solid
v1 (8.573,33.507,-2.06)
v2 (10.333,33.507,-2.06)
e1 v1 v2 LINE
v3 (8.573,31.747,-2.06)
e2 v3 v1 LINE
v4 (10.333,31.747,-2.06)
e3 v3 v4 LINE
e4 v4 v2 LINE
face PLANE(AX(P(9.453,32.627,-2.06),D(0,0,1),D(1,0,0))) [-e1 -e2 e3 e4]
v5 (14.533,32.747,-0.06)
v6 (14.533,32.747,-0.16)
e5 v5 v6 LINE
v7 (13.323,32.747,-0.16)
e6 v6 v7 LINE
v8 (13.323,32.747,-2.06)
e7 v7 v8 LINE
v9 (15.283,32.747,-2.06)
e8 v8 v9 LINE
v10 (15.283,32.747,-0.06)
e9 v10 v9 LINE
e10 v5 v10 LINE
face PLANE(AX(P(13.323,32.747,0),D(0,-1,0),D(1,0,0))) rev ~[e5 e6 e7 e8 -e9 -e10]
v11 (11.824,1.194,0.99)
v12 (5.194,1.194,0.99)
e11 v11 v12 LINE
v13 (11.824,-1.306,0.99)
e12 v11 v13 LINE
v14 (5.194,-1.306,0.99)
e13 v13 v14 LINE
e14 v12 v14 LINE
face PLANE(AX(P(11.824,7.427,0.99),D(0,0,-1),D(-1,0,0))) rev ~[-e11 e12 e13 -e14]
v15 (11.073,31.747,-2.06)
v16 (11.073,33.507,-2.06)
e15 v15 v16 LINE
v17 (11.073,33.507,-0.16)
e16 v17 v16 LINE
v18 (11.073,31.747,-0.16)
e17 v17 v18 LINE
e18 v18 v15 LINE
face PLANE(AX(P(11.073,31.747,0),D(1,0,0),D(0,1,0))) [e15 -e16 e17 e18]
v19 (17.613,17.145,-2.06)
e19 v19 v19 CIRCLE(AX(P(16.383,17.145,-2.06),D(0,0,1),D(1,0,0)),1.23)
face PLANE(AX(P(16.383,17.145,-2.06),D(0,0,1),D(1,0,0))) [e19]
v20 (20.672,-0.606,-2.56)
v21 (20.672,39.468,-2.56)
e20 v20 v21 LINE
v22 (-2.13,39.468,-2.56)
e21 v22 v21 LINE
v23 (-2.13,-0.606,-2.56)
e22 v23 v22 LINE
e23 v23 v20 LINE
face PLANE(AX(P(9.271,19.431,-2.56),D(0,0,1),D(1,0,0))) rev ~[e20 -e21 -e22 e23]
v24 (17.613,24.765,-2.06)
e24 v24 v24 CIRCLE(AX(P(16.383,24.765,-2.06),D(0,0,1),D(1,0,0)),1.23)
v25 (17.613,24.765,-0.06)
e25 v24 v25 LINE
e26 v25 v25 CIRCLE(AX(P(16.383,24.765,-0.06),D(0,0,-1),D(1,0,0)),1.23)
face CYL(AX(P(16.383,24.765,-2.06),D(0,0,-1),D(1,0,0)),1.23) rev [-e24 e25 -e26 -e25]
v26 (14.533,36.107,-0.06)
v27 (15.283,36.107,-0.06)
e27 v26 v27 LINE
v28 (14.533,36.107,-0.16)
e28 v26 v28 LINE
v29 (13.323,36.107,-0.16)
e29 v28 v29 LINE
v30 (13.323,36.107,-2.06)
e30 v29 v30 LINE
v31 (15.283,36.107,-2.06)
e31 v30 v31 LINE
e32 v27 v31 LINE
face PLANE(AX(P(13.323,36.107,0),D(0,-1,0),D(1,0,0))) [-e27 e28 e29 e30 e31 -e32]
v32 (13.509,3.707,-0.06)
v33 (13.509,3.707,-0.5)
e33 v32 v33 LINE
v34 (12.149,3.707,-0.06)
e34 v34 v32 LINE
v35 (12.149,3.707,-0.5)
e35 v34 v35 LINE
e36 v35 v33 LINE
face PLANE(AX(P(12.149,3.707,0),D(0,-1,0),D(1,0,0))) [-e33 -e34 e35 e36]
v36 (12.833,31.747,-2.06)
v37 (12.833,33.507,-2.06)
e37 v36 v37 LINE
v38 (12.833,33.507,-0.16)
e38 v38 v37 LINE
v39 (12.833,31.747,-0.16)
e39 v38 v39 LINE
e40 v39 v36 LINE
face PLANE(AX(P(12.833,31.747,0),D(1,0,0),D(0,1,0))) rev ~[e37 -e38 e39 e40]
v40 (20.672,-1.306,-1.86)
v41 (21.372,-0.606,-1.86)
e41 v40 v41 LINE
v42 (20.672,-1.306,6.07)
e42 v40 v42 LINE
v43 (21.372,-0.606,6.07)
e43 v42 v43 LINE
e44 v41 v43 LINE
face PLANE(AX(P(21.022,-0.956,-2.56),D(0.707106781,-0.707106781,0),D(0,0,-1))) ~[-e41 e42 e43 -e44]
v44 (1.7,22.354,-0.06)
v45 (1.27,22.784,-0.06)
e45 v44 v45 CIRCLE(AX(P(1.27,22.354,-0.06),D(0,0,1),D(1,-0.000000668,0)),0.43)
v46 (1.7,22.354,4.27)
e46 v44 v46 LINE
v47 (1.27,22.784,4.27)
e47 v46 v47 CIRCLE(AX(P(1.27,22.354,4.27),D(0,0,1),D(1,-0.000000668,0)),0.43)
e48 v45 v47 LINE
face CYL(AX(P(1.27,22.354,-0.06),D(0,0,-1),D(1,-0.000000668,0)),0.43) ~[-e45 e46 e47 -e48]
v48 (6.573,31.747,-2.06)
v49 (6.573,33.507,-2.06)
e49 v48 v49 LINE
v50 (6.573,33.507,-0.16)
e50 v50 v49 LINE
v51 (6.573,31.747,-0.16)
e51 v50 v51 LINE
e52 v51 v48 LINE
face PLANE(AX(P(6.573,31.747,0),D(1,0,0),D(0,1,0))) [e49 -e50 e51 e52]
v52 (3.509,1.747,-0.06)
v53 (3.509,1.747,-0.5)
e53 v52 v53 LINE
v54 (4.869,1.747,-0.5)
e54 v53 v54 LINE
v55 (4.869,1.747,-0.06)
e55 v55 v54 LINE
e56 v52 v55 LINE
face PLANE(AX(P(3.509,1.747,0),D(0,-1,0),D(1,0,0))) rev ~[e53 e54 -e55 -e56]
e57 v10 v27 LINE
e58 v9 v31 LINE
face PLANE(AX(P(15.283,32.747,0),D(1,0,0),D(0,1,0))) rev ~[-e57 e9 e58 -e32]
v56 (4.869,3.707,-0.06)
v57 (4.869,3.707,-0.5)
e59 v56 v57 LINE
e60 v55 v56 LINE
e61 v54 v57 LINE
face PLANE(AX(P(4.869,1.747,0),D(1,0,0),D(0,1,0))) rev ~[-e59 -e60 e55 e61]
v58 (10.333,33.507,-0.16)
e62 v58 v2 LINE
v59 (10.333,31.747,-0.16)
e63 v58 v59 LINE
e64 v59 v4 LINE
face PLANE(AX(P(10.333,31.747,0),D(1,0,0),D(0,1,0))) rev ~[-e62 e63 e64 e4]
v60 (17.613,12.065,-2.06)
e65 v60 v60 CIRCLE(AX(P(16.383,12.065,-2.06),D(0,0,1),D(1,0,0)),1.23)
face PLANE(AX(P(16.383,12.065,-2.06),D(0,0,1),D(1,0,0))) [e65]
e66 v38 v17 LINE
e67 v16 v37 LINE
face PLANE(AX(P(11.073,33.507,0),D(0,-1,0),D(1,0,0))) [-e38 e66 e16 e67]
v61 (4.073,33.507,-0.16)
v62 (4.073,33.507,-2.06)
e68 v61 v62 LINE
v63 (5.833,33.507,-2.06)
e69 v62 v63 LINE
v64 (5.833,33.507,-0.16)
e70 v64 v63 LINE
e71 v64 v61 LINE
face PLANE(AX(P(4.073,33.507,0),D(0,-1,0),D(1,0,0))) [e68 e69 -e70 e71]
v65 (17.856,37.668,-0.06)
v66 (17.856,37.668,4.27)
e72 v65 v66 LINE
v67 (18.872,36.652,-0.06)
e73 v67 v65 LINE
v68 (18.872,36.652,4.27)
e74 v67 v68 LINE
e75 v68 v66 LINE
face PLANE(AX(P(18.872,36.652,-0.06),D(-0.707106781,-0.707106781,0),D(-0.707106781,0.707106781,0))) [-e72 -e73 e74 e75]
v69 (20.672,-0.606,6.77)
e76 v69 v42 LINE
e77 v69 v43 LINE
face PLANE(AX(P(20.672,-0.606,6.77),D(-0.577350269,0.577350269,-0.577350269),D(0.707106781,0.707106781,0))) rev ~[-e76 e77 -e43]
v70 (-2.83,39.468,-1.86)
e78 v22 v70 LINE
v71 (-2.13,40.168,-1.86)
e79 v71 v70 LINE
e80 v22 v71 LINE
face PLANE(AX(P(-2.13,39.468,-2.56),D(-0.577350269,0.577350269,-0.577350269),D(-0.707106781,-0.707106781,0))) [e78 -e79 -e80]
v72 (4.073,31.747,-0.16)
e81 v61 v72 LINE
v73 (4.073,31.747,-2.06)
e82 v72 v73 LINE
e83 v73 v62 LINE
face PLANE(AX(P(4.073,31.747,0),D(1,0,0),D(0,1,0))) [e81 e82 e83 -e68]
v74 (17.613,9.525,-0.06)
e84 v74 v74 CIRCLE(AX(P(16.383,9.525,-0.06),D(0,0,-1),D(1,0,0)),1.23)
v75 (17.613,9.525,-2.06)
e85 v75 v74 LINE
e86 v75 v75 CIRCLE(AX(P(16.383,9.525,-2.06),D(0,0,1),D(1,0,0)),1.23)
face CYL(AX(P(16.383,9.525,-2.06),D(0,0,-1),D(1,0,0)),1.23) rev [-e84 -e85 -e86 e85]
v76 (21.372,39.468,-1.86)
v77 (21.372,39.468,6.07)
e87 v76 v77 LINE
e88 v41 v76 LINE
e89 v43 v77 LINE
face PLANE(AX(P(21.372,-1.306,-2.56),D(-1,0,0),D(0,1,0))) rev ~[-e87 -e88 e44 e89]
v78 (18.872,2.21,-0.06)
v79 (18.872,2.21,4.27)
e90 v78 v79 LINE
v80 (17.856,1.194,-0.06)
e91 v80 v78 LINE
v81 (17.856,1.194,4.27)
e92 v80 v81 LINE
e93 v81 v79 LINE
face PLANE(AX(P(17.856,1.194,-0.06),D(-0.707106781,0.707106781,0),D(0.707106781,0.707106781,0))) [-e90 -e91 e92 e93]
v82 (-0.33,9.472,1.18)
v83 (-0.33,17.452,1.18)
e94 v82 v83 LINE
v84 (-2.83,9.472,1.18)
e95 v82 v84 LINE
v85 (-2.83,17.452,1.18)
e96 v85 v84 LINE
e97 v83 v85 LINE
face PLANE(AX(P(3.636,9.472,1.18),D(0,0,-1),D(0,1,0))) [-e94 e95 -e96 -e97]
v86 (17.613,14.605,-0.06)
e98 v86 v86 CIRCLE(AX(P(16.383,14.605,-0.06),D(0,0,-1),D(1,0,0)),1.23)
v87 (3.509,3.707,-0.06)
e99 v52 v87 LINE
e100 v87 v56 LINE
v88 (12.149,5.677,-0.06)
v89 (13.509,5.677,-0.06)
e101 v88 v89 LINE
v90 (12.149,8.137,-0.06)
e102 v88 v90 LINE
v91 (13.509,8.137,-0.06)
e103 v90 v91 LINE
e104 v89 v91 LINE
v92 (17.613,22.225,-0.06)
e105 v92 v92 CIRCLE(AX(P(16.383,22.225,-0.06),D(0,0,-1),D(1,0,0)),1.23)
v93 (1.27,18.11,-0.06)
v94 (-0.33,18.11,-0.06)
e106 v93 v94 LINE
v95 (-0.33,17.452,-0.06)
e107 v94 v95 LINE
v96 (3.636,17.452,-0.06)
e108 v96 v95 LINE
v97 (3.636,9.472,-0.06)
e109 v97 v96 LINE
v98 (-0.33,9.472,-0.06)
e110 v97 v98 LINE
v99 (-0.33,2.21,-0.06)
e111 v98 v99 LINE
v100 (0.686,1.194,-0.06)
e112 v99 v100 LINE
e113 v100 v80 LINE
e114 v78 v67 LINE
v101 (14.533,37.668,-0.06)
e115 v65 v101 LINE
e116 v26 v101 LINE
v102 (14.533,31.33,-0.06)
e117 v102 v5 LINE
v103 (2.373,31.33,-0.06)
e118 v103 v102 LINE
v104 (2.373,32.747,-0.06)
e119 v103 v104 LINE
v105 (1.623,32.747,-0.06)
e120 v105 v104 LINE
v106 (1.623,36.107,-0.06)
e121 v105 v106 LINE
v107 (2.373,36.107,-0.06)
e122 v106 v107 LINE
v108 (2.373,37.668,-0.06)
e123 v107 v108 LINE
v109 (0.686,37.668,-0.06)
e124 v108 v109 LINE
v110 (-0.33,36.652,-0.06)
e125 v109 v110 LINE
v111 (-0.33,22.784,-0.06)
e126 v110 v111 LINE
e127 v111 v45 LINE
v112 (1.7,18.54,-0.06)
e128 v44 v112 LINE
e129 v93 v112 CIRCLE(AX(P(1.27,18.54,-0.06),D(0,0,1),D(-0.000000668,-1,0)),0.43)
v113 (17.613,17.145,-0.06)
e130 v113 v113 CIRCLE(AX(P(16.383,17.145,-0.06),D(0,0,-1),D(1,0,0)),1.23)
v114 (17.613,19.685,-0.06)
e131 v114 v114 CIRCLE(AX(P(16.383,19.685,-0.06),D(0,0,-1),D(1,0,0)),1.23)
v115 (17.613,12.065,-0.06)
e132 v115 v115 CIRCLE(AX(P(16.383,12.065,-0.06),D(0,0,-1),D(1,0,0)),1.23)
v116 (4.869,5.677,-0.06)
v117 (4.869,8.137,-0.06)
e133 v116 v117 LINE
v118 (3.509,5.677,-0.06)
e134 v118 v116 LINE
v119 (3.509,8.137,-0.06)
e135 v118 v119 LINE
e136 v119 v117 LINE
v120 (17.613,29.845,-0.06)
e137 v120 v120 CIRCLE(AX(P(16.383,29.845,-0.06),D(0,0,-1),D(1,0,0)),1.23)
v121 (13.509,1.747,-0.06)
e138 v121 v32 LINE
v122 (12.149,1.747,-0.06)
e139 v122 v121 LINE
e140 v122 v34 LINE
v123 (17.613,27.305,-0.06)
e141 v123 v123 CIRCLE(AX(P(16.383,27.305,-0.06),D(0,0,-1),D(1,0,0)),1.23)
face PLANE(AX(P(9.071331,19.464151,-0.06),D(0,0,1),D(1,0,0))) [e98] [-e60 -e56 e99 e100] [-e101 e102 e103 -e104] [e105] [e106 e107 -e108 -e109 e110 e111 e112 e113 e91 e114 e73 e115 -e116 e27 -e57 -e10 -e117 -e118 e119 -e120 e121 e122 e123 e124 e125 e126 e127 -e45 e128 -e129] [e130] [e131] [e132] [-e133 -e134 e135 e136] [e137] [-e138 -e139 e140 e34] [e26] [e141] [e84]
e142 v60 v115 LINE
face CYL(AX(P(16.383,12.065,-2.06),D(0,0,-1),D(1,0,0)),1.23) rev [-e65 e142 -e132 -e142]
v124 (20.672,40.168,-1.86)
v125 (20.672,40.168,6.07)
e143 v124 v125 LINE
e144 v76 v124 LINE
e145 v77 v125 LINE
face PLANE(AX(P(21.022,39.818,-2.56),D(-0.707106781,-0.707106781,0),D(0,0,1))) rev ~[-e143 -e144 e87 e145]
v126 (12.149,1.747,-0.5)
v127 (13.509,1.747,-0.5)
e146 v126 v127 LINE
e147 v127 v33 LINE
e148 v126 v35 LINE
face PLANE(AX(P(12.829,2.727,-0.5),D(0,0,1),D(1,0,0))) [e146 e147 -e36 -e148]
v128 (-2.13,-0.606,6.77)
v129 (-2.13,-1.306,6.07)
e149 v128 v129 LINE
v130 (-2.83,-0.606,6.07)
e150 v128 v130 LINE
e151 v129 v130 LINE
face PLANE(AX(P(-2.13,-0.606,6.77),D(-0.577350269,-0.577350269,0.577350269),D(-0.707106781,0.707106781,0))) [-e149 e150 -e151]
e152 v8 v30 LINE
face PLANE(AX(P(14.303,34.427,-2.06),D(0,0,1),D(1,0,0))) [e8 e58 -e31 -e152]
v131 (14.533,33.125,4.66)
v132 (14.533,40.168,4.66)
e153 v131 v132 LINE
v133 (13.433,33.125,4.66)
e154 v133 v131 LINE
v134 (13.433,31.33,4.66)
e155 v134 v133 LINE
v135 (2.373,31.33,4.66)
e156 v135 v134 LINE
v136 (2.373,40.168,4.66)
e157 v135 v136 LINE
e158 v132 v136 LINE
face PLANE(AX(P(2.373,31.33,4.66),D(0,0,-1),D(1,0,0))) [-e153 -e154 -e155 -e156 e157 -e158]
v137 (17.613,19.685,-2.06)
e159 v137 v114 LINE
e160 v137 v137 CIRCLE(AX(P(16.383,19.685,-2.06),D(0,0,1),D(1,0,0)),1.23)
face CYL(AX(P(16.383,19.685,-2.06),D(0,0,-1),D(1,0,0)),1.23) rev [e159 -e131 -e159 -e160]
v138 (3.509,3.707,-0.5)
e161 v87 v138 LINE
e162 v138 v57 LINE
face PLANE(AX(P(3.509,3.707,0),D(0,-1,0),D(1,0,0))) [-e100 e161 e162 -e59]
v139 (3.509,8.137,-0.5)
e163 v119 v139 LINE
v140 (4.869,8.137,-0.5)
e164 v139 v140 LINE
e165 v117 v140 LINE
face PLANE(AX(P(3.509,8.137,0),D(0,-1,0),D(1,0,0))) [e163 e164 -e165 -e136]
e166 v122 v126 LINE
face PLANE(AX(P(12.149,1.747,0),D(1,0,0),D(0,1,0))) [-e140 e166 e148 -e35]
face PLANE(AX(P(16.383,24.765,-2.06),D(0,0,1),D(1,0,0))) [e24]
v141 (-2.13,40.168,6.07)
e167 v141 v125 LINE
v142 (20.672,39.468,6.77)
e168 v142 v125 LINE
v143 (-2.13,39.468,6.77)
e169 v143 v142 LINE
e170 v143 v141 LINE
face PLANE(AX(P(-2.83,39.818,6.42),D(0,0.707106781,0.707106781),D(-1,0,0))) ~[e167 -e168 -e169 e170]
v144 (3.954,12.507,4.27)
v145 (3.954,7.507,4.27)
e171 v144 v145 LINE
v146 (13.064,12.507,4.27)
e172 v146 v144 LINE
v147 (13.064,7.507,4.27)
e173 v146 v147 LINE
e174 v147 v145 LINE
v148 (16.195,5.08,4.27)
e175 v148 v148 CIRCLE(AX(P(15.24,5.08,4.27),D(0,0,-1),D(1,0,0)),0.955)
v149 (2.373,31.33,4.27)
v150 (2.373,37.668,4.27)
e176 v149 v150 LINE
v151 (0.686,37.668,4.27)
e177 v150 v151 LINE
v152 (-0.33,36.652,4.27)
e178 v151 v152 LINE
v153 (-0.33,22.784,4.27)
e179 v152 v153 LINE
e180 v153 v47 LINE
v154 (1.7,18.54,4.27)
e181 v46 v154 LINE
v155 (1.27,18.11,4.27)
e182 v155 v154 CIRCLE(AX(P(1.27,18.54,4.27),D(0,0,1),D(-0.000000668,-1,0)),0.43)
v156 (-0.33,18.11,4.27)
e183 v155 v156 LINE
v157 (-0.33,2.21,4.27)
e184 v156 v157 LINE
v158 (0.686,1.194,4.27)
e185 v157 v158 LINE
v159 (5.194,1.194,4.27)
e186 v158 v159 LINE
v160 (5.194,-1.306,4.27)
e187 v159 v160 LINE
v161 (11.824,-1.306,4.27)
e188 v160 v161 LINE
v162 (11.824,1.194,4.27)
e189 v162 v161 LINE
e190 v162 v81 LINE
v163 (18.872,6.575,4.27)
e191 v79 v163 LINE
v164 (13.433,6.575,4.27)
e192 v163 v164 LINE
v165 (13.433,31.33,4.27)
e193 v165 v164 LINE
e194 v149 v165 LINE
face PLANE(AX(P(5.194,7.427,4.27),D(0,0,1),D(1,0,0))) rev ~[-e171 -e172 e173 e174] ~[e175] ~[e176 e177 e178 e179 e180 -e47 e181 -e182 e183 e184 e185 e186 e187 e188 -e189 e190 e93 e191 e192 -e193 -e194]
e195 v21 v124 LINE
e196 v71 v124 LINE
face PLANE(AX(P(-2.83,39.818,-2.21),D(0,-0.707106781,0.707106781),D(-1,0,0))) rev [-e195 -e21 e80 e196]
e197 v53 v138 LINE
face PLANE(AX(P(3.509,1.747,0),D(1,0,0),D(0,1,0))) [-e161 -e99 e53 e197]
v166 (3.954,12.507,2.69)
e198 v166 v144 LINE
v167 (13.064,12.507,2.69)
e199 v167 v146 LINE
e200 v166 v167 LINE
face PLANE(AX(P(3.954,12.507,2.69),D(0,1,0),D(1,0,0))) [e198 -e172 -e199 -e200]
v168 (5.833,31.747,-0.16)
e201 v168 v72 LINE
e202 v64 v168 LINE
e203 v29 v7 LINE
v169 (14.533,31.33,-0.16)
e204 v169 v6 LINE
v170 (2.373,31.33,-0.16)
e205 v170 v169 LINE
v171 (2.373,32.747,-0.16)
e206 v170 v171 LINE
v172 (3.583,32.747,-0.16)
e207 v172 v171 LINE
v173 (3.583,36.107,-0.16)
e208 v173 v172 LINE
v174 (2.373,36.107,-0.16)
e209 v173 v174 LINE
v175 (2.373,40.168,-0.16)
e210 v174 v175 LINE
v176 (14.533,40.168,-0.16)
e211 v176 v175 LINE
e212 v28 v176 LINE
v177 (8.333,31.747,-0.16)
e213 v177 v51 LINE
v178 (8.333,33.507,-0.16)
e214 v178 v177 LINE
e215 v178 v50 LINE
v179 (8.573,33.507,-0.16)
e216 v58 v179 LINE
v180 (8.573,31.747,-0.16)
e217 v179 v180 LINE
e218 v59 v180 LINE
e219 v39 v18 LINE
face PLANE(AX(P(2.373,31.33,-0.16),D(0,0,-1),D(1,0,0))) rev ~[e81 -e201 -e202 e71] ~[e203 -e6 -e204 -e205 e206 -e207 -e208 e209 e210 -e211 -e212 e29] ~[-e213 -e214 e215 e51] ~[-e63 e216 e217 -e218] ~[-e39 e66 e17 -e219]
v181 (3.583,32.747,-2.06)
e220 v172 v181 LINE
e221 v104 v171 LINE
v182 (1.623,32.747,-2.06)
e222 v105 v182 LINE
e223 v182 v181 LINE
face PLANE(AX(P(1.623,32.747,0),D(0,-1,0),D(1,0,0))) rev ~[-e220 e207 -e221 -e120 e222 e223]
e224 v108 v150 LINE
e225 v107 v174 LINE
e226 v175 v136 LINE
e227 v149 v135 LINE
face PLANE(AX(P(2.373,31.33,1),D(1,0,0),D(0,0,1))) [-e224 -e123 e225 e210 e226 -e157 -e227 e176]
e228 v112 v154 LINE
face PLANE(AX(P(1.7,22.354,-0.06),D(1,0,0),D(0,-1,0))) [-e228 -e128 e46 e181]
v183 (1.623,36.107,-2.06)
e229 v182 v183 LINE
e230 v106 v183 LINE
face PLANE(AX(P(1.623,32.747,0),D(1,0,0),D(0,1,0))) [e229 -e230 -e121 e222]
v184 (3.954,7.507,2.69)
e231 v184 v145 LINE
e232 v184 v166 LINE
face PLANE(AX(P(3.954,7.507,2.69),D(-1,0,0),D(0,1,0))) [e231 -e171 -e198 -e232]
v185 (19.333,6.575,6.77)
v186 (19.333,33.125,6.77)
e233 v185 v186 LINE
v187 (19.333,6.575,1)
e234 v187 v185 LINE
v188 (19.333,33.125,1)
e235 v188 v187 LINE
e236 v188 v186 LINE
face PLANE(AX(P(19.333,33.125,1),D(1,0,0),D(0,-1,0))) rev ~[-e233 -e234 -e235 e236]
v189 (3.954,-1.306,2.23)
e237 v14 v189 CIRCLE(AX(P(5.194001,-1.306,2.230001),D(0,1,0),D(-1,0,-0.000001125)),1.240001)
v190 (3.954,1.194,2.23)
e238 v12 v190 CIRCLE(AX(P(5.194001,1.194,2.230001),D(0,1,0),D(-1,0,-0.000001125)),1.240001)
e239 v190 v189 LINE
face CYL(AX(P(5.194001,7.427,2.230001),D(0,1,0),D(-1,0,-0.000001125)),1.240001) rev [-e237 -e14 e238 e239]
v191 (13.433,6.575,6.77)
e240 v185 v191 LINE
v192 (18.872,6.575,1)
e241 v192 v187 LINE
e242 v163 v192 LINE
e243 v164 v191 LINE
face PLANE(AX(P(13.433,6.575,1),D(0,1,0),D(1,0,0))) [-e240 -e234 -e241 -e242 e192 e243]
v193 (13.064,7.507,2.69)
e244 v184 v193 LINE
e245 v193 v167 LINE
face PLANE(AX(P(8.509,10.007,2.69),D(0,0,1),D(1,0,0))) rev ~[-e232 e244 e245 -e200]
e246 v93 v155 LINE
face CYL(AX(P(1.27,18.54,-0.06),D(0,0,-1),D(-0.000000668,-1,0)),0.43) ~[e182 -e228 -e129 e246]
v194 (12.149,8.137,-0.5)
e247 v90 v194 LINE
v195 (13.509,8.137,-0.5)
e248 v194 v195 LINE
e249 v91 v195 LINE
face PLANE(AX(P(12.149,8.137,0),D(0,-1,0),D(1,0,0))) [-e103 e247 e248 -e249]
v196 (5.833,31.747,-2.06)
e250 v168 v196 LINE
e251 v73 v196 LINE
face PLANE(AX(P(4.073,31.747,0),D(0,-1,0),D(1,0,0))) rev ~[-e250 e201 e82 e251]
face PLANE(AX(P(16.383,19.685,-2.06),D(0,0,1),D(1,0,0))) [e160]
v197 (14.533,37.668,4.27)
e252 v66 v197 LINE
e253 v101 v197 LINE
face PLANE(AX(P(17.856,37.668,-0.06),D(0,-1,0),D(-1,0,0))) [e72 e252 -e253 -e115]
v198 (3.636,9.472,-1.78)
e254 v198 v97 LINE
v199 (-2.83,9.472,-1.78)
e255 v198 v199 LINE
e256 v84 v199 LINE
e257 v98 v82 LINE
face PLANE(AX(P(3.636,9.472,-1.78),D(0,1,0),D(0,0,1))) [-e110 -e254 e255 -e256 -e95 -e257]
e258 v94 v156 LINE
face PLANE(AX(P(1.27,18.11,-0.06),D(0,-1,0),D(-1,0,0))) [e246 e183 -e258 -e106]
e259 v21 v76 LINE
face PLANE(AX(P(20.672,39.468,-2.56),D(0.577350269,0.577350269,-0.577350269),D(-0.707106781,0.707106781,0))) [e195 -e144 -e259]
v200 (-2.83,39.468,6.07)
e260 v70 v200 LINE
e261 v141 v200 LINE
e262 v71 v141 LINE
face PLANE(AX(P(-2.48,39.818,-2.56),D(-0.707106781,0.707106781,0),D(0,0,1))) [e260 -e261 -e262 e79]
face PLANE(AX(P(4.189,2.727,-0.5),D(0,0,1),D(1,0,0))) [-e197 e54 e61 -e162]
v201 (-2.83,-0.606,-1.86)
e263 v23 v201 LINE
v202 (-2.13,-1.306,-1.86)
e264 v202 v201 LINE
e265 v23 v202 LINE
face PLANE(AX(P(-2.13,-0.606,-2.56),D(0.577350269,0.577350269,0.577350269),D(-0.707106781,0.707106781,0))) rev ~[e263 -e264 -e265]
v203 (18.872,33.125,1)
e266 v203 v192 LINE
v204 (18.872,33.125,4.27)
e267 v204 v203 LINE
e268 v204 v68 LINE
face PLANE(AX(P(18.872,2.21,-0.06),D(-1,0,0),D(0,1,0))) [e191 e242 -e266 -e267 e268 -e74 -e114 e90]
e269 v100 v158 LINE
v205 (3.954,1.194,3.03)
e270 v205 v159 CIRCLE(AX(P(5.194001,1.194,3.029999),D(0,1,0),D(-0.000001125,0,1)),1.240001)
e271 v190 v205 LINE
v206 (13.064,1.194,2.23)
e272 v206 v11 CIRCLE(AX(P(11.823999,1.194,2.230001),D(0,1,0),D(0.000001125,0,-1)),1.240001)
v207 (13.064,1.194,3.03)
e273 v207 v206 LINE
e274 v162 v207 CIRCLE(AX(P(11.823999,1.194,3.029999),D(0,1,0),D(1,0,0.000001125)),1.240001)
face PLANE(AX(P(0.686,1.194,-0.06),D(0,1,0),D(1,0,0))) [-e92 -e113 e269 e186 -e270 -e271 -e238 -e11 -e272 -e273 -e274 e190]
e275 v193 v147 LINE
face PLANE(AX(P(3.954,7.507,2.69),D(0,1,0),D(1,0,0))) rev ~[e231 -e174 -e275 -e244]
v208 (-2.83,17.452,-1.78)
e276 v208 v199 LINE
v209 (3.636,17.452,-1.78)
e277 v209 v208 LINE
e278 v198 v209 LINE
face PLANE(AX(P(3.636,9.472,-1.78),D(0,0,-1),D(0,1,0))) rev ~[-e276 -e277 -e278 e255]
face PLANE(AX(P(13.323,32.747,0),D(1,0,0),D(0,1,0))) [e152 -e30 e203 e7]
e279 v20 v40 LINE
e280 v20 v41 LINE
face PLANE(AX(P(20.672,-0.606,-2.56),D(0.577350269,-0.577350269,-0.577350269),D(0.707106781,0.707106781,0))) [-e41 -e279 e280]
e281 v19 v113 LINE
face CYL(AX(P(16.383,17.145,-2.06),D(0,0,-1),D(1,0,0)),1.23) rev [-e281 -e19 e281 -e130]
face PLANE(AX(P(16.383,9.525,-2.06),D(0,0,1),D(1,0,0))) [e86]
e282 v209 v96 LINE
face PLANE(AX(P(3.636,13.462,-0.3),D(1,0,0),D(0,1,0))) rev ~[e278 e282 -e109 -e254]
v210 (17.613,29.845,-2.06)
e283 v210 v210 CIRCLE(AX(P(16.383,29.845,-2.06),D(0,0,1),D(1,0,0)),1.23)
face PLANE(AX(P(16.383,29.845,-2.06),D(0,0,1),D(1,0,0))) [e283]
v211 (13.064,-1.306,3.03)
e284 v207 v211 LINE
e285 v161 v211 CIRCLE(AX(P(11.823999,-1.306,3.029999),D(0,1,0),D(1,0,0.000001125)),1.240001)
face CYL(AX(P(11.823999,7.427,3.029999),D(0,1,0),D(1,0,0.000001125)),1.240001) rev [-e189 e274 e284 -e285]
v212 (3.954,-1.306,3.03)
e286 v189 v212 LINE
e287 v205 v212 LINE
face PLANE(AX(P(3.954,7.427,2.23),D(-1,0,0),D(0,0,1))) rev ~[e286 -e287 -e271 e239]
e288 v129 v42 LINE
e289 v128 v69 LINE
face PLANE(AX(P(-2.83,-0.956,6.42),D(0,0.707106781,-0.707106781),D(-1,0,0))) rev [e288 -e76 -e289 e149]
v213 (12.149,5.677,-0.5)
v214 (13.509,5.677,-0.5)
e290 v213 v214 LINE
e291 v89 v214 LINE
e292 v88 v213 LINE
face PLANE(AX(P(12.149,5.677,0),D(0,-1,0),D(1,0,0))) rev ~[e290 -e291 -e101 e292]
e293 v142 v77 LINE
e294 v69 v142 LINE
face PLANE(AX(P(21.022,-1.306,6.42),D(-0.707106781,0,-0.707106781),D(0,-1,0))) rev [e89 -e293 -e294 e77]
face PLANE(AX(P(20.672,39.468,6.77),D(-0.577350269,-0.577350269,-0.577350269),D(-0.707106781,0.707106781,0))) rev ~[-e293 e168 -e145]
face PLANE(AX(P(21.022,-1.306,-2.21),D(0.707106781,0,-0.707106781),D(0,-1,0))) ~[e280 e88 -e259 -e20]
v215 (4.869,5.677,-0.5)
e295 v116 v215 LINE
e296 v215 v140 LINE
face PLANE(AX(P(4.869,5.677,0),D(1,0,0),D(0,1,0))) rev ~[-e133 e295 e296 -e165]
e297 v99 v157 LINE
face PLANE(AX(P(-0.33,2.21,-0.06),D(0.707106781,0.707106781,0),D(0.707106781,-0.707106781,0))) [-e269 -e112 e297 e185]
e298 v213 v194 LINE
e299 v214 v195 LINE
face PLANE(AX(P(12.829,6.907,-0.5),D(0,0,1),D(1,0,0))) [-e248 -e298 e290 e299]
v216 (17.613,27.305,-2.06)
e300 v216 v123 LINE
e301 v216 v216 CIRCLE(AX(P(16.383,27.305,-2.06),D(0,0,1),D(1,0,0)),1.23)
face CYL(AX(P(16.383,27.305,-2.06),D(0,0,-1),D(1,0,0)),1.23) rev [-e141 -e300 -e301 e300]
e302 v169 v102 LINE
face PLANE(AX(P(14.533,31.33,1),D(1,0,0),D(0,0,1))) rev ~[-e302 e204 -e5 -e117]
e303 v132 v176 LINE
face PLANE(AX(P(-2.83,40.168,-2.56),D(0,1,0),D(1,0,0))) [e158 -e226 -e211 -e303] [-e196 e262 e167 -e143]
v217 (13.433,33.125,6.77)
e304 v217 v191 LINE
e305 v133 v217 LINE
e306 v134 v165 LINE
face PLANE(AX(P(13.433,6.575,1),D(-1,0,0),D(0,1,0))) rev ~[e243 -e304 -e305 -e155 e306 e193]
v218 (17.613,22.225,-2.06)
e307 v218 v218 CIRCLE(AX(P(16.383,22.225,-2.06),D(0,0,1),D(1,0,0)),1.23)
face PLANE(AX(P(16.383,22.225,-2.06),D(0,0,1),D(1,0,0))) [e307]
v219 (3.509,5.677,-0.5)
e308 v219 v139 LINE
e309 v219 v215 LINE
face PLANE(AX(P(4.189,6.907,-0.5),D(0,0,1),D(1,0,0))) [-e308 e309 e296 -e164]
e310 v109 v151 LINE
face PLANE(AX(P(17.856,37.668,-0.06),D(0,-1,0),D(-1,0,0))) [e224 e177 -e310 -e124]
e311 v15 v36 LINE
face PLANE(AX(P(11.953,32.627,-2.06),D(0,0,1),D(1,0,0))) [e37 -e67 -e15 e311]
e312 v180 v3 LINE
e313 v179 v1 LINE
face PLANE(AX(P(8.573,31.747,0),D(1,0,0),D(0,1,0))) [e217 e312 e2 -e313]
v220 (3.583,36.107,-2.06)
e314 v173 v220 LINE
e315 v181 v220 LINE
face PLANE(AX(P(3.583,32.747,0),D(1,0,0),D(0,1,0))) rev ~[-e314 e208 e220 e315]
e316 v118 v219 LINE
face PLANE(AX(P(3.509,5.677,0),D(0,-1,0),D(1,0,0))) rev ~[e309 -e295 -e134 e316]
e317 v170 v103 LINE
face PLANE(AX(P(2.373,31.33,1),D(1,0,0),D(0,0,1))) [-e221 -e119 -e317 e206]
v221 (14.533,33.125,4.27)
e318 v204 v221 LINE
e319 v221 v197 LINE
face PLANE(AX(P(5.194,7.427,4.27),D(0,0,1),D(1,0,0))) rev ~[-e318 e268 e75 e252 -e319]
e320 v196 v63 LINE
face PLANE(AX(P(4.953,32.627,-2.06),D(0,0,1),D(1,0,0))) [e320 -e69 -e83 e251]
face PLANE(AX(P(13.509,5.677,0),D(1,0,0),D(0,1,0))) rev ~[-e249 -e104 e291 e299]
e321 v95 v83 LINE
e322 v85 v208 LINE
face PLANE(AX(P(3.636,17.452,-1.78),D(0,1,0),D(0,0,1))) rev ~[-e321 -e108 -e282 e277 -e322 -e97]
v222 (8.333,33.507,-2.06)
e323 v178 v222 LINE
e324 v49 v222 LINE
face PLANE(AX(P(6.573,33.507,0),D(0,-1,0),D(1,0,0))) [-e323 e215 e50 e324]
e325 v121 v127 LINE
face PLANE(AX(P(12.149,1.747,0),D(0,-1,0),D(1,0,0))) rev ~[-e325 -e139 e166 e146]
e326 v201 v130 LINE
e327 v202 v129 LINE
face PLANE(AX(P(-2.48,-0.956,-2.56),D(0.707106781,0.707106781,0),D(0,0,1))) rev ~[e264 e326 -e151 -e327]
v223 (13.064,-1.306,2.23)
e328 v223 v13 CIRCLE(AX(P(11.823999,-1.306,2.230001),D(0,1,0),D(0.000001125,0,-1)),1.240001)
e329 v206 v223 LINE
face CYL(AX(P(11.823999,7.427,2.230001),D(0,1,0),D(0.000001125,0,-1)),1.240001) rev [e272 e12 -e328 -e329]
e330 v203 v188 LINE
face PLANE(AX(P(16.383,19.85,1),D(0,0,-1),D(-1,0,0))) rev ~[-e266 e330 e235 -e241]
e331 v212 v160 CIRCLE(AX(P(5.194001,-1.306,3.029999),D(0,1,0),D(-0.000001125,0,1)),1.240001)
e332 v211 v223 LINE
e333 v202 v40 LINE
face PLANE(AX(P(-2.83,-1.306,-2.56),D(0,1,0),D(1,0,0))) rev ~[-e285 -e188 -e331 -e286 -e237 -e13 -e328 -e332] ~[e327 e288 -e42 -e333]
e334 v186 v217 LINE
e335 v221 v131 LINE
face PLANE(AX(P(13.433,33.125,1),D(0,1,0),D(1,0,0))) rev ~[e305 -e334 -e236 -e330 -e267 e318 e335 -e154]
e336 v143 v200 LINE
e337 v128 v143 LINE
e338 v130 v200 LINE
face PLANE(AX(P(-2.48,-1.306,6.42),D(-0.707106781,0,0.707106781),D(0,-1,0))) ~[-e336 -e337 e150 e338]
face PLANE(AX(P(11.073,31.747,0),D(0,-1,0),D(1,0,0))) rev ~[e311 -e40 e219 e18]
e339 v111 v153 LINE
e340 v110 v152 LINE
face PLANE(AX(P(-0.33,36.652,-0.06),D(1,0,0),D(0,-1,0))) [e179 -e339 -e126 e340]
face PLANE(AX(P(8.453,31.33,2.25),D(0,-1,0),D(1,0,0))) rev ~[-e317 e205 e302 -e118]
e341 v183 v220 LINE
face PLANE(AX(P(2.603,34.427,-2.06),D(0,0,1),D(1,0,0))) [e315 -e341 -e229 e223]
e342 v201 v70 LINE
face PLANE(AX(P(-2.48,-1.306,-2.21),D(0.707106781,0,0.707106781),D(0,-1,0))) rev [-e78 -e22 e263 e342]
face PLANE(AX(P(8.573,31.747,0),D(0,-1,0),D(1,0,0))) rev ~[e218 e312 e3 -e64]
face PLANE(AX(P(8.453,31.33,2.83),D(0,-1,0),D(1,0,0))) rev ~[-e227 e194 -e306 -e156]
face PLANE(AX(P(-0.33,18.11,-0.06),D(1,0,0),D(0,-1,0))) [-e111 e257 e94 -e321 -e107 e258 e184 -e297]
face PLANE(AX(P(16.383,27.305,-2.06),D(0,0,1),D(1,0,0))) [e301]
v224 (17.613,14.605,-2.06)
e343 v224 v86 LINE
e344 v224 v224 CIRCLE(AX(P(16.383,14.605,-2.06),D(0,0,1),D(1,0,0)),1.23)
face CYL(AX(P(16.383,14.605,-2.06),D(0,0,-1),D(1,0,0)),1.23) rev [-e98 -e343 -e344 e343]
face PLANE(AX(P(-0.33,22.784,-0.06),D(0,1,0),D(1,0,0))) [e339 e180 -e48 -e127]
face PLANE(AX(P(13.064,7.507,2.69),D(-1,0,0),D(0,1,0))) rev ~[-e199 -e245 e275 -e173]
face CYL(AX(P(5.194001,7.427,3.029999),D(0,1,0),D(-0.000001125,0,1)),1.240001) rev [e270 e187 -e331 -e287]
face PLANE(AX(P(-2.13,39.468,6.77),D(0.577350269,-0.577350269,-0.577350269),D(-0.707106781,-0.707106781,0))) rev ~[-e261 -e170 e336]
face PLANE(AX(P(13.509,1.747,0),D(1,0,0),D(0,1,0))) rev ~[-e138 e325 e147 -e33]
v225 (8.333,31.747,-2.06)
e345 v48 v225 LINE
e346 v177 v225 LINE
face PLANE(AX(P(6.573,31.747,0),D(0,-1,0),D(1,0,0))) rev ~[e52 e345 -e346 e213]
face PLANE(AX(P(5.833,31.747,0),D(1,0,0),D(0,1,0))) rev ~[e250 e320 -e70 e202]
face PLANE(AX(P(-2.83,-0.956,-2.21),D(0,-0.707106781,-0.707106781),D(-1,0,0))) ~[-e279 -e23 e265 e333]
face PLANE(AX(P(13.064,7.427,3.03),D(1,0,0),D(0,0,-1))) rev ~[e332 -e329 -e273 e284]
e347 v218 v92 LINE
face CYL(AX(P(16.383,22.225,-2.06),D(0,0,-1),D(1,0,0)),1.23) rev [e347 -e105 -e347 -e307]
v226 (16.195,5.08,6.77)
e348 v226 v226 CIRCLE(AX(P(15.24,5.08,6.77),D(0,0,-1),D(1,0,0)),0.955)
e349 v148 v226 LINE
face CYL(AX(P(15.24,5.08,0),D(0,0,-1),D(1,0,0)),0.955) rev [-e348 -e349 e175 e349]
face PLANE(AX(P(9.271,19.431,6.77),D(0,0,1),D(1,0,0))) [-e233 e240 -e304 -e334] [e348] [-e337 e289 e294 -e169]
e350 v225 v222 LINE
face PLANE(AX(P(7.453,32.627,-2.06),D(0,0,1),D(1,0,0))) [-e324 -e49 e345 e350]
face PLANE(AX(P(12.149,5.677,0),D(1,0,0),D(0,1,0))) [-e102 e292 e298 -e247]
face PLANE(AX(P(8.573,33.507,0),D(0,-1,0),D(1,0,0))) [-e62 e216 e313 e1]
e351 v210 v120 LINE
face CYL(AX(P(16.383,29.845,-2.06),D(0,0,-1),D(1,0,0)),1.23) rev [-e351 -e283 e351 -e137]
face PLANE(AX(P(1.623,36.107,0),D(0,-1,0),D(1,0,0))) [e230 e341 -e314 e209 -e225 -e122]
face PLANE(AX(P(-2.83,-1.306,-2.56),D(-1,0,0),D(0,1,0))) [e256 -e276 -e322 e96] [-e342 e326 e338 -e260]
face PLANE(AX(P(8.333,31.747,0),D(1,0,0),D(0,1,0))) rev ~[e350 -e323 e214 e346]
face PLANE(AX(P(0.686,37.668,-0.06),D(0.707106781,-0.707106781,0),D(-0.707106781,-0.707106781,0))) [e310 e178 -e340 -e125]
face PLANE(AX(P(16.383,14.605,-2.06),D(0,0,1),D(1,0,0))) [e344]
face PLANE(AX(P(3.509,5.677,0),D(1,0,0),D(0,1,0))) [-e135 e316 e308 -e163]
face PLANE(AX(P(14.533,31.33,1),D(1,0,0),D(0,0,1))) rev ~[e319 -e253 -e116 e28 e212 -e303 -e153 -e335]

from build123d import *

# Parameters (mm, degrees)
SKETCH_W            = 24.202
SKETCH_H            = 41.474
PAD_DEPTH           = 9.33
CHAMFER_SIZE        = 0.7
POCKET_DEPTH        = 4.33
SKETCH002_R         = 0.955
POCKET001_DEPTH     = 6.771
POCKET002_DEPTH     = 8.734
SKETCH007_W         = 1.36
SKETCH007_H         = 2.46
SKETCH007_H_2       = 1.96
POCKET005_DEPTH     = 0.5
SKETCH004_W         = 9.11
SKETCH004_H         = 5
PAD001_DEPTH        = 4.08
SKETCH005_W         = 12.16
SKETCH005_H         = 3.66
POCKET003_DEPTH     = 8.839
SKETCH006_W         = 12.16
SKETCH006_H         = 4.82
POCKET004_DEPTH     = 8.839
SKETCH008_W         = 1.96
SKETCH008_H         = 3.36
SKETCH008_W_2       = 1.76
SKETCH008_H_2       = 1.76
POCKET006_DEPTH     = 2.06
POCKET007_DEPTH     = 5.771
SKETCH010_R         = 1.23
POCKET008_DEPTH     = 8.831
LINEARPATTERN_COUNT = 9
LINEARPATTERN_PITCH = 2.54
SKETCH011_W         = 7.98
SKETCH011_H         = 2.96
POCKET009_DEPTH     = 6.467


with BuildPart() as part:
    # Sketch → Pad (new body)
    with BuildSketch(Plane.XY.offset(-2.56)):
        with Locations((9.271, 19.431)):
            Rectangle(SKETCH_W, SKETCH_H)
    extrude(amount=PAD_DEPTH)

    # Chamfer
    chamfer_edges = [part.edges().sort_by_distance(p)[0] for p in [
        (-2.83, -1.306, 2.105),
        (21.372, -1.306, 2.105),
        (9.271, -1.306, -2.56),
        (9.271, -1.306, 6.77),
        (21.372, 40.168, 2.105),
        (21.372, 19.431, -2.56),
        (21.372, 19.431, 6.77),
        (-2.83, 40.168, 2.105),
        (9.271, 40.168, -2.56),
        (9.271, 40.168, 6.77),
        (-2.83, 19.431, -2.56),
        (-2.83, 19.431, 6.77),
    ]]
    chamfer(chamfer_edges, length=CHAMFER_SIZE)

    # Sketch001 → Pocket (cut)
    with BuildSketch(Plane.XY.offset(-0.06)):
        with BuildLine():
            Line((-0.33, 2.21), (0.686, 1.194))
            Line((0.686, 1.194), (17.856, 1.194))
            Line((17.856, 1.194), (18.872, 2.21))
            Line((18.872, 2.21), (18.872, 36.652))
            Line((18.872, 36.652), (17.856, 37.668))
            Line((17.856, 37.668), (0.686, 37.668))
            Line((0.686, 37.668), (-0.33, 36.652))
            Line((-0.33, 36.652), (-0.33, 22.784))
            Line((-0.33, 22.784), (1.27, 22.784))
            ThreePointArc((1.7, 22.354), (1.574056, 22.658056), (1.27, 22.784))
            Line((1.7, 22.354), (1.7, 18.54))
            ThreePointArc((1.27, 18.11), (1.574056, 18.235944), (1.7, 18.54))
            Line((1.27, 18.11), (-0.33, 18.11))
            Line((-0.33, 18.11), (-0.33, 2.21))
        make_face()
    extrude(amount=POCKET_DEPTH, mode=Mode.SUBTRACT)

    # Sketch002 → Pocket001 (cut, through all)
    with BuildSketch(Plane.XY):
        with Locations((15.24, 5.08)):
            Circle(SKETCH002_R)
    extrude(amount=POCKET001_DEPTH, mode=Mode.SUBTRACT)

    # Sketch003 → Pocket002 (cut, through all)
    with BuildSketch(Plane.XZ.offset(-7.427)):
        with BuildLine():
            Line((5.194, 4.27), (11.824, 4.27))
            ThreePointArc((13.064, 3.03), (12.700812, 3.906812), (11.824, 4.27))
            Line((13.064, 3.03), (13.064, 2.23))
            ThreePointArc((11.824, 0.99), (12.700812, 1.353188), (13.064, 2.23))
            Line((11.824, 0.99), (5.194, 0.99))
            ThreePointArc((3.954, 2.23), (4.317188, 1.353188), (5.194, 0.99))
            Line((3.954, 2.23), (3.954, 3.03))
            ThreePointArc((5.194, 4.27), (4.317188, 3.906812), (3.954, 3.03))
        make_face()
    extrude(amount=POCKET002_DEPTH, mode=Mode.SUBTRACT)

    # Sketch007 → Pocket005 (cut)
    with BuildSketch(Plane.XY):
        with Locations((4.189, 6.907)):
            Rectangle(SKETCH007_W, SKETCH007_H)
        with Locations((4.189, 2.727)):
            Rectangle(SKETCH007_W, SKETCH007_H_2)
        with Locations((12.829, 2.727)):
            Rectangle(SKETCH007_W, SKETCH007_H_2)
        with Locations((12.829, 6.907)):
            Rectangle(SKETCH007_W, SKETCH007_H)
    extrude(amount=-POCKET005_DEPTH, mode=Mode.SUBTRACT)

    # Sketch004 → Pad001 (join)
    with BuildSketch(Plane.XY.offset(2.69)):
        with Locations((8.509, 10.007)):
            Rectangle(SKETCH004_W, SKETCH004_H)
    extrude(amount=PAD001_DEPTH)

    # Sketch005 → Pocket003 (cut, through all)
    with BuildSketch(Plane.XZ.offset(-31.33)):
        with Locations((8.453, 2.83)):
            Rectangle(SKETCH005_W, SKETCH005_H)
    extrude(amount=-POCKET003_DEPTH, mode=Mode.SUBTRACT)

    # Sketch006 → Pocket004 (cut, through all)
    with BuildSketch(Plane.XZ.offset(-31.33)):
        with Locations((8.453, 2.25)):
            Rectangle(SKETCH006_W, SKETCH006_H)
    extrude(amount=-POCKET004_DEPTH, mode=Mode.SUBTRACT)

    # Sketch008 → Pocket006 (cut)
    with BuildSketch(Plane.XY):
        with Locations((2.603, 34.427)):
            Rectangle(SKETCH008_W, SKETCH008_H)
        with Locations((14.303, 34.427)):
            Rectangle(SKETCH008_W, SKETCH008_H)
        with Locations((4.953, 32.627)):
            Rectangle(SKETCH008_W_2, SKETCH008_H_2)
        with Locations((7.453, 32.627)):
            Rectangle(SKETCH008_W_2, SKETCH008_H_2)
        with Locations((9.453, 32.627)):
            Rectangle(SKETCH008_W_2, SKETCH008_H_2)
        with Locations((11.953, 32.627)):
            Rectangle(SKETCH008_W_2, SKETCH008_H_2)
    extrude(amount=-POCKET006_DEPTH, mode=Mode.SUBTRACT)

    # Sketch009 → Pocket007 (cut, through all)
    with BuildSketch(Plane.XY.offset(1)):
        Polygon((13.433, 33.125), (19.333, 33.125), (19.333, 6.575), (16.383, 6.575), (13.433, 6.575), align=None)
    extrude(amount=POCKET007_DEPTH, mode=Mode.SUBTRACT)

    # Sketch010 → Pocket008 (cut, through all)
    with BuildSketch(Plane.XY.offset(-2.06)):
        with Locations((16.383, 9.525)):
            Circle(SKETCH010_R)
    pocket008 = extrude(amount=POCKET008_DEPTH, mode=Mode.SUBTRACT)

    # LinearPattern: Pocket008 ×9
    with Locations(*[(0, i * LINEARPATTERN_PITCH, 0) for i in range(1, LINEARPATTERN_COUNT)]):
        add(pocket008, mode=Mode.SUBTRACT)

    # Sketch011 → Pocket009 (cut, through all)
    with BuildSketch(Plane.YZ.offset(3.636)):
        with Locations((13.462, -0.3)):
            Rectangle(SKETCH011_W, SKETCH011_H)
    extrude(amount=-POCKET009_DEPTH, mode=Mode.SUBTRACT)


solid = part.part
